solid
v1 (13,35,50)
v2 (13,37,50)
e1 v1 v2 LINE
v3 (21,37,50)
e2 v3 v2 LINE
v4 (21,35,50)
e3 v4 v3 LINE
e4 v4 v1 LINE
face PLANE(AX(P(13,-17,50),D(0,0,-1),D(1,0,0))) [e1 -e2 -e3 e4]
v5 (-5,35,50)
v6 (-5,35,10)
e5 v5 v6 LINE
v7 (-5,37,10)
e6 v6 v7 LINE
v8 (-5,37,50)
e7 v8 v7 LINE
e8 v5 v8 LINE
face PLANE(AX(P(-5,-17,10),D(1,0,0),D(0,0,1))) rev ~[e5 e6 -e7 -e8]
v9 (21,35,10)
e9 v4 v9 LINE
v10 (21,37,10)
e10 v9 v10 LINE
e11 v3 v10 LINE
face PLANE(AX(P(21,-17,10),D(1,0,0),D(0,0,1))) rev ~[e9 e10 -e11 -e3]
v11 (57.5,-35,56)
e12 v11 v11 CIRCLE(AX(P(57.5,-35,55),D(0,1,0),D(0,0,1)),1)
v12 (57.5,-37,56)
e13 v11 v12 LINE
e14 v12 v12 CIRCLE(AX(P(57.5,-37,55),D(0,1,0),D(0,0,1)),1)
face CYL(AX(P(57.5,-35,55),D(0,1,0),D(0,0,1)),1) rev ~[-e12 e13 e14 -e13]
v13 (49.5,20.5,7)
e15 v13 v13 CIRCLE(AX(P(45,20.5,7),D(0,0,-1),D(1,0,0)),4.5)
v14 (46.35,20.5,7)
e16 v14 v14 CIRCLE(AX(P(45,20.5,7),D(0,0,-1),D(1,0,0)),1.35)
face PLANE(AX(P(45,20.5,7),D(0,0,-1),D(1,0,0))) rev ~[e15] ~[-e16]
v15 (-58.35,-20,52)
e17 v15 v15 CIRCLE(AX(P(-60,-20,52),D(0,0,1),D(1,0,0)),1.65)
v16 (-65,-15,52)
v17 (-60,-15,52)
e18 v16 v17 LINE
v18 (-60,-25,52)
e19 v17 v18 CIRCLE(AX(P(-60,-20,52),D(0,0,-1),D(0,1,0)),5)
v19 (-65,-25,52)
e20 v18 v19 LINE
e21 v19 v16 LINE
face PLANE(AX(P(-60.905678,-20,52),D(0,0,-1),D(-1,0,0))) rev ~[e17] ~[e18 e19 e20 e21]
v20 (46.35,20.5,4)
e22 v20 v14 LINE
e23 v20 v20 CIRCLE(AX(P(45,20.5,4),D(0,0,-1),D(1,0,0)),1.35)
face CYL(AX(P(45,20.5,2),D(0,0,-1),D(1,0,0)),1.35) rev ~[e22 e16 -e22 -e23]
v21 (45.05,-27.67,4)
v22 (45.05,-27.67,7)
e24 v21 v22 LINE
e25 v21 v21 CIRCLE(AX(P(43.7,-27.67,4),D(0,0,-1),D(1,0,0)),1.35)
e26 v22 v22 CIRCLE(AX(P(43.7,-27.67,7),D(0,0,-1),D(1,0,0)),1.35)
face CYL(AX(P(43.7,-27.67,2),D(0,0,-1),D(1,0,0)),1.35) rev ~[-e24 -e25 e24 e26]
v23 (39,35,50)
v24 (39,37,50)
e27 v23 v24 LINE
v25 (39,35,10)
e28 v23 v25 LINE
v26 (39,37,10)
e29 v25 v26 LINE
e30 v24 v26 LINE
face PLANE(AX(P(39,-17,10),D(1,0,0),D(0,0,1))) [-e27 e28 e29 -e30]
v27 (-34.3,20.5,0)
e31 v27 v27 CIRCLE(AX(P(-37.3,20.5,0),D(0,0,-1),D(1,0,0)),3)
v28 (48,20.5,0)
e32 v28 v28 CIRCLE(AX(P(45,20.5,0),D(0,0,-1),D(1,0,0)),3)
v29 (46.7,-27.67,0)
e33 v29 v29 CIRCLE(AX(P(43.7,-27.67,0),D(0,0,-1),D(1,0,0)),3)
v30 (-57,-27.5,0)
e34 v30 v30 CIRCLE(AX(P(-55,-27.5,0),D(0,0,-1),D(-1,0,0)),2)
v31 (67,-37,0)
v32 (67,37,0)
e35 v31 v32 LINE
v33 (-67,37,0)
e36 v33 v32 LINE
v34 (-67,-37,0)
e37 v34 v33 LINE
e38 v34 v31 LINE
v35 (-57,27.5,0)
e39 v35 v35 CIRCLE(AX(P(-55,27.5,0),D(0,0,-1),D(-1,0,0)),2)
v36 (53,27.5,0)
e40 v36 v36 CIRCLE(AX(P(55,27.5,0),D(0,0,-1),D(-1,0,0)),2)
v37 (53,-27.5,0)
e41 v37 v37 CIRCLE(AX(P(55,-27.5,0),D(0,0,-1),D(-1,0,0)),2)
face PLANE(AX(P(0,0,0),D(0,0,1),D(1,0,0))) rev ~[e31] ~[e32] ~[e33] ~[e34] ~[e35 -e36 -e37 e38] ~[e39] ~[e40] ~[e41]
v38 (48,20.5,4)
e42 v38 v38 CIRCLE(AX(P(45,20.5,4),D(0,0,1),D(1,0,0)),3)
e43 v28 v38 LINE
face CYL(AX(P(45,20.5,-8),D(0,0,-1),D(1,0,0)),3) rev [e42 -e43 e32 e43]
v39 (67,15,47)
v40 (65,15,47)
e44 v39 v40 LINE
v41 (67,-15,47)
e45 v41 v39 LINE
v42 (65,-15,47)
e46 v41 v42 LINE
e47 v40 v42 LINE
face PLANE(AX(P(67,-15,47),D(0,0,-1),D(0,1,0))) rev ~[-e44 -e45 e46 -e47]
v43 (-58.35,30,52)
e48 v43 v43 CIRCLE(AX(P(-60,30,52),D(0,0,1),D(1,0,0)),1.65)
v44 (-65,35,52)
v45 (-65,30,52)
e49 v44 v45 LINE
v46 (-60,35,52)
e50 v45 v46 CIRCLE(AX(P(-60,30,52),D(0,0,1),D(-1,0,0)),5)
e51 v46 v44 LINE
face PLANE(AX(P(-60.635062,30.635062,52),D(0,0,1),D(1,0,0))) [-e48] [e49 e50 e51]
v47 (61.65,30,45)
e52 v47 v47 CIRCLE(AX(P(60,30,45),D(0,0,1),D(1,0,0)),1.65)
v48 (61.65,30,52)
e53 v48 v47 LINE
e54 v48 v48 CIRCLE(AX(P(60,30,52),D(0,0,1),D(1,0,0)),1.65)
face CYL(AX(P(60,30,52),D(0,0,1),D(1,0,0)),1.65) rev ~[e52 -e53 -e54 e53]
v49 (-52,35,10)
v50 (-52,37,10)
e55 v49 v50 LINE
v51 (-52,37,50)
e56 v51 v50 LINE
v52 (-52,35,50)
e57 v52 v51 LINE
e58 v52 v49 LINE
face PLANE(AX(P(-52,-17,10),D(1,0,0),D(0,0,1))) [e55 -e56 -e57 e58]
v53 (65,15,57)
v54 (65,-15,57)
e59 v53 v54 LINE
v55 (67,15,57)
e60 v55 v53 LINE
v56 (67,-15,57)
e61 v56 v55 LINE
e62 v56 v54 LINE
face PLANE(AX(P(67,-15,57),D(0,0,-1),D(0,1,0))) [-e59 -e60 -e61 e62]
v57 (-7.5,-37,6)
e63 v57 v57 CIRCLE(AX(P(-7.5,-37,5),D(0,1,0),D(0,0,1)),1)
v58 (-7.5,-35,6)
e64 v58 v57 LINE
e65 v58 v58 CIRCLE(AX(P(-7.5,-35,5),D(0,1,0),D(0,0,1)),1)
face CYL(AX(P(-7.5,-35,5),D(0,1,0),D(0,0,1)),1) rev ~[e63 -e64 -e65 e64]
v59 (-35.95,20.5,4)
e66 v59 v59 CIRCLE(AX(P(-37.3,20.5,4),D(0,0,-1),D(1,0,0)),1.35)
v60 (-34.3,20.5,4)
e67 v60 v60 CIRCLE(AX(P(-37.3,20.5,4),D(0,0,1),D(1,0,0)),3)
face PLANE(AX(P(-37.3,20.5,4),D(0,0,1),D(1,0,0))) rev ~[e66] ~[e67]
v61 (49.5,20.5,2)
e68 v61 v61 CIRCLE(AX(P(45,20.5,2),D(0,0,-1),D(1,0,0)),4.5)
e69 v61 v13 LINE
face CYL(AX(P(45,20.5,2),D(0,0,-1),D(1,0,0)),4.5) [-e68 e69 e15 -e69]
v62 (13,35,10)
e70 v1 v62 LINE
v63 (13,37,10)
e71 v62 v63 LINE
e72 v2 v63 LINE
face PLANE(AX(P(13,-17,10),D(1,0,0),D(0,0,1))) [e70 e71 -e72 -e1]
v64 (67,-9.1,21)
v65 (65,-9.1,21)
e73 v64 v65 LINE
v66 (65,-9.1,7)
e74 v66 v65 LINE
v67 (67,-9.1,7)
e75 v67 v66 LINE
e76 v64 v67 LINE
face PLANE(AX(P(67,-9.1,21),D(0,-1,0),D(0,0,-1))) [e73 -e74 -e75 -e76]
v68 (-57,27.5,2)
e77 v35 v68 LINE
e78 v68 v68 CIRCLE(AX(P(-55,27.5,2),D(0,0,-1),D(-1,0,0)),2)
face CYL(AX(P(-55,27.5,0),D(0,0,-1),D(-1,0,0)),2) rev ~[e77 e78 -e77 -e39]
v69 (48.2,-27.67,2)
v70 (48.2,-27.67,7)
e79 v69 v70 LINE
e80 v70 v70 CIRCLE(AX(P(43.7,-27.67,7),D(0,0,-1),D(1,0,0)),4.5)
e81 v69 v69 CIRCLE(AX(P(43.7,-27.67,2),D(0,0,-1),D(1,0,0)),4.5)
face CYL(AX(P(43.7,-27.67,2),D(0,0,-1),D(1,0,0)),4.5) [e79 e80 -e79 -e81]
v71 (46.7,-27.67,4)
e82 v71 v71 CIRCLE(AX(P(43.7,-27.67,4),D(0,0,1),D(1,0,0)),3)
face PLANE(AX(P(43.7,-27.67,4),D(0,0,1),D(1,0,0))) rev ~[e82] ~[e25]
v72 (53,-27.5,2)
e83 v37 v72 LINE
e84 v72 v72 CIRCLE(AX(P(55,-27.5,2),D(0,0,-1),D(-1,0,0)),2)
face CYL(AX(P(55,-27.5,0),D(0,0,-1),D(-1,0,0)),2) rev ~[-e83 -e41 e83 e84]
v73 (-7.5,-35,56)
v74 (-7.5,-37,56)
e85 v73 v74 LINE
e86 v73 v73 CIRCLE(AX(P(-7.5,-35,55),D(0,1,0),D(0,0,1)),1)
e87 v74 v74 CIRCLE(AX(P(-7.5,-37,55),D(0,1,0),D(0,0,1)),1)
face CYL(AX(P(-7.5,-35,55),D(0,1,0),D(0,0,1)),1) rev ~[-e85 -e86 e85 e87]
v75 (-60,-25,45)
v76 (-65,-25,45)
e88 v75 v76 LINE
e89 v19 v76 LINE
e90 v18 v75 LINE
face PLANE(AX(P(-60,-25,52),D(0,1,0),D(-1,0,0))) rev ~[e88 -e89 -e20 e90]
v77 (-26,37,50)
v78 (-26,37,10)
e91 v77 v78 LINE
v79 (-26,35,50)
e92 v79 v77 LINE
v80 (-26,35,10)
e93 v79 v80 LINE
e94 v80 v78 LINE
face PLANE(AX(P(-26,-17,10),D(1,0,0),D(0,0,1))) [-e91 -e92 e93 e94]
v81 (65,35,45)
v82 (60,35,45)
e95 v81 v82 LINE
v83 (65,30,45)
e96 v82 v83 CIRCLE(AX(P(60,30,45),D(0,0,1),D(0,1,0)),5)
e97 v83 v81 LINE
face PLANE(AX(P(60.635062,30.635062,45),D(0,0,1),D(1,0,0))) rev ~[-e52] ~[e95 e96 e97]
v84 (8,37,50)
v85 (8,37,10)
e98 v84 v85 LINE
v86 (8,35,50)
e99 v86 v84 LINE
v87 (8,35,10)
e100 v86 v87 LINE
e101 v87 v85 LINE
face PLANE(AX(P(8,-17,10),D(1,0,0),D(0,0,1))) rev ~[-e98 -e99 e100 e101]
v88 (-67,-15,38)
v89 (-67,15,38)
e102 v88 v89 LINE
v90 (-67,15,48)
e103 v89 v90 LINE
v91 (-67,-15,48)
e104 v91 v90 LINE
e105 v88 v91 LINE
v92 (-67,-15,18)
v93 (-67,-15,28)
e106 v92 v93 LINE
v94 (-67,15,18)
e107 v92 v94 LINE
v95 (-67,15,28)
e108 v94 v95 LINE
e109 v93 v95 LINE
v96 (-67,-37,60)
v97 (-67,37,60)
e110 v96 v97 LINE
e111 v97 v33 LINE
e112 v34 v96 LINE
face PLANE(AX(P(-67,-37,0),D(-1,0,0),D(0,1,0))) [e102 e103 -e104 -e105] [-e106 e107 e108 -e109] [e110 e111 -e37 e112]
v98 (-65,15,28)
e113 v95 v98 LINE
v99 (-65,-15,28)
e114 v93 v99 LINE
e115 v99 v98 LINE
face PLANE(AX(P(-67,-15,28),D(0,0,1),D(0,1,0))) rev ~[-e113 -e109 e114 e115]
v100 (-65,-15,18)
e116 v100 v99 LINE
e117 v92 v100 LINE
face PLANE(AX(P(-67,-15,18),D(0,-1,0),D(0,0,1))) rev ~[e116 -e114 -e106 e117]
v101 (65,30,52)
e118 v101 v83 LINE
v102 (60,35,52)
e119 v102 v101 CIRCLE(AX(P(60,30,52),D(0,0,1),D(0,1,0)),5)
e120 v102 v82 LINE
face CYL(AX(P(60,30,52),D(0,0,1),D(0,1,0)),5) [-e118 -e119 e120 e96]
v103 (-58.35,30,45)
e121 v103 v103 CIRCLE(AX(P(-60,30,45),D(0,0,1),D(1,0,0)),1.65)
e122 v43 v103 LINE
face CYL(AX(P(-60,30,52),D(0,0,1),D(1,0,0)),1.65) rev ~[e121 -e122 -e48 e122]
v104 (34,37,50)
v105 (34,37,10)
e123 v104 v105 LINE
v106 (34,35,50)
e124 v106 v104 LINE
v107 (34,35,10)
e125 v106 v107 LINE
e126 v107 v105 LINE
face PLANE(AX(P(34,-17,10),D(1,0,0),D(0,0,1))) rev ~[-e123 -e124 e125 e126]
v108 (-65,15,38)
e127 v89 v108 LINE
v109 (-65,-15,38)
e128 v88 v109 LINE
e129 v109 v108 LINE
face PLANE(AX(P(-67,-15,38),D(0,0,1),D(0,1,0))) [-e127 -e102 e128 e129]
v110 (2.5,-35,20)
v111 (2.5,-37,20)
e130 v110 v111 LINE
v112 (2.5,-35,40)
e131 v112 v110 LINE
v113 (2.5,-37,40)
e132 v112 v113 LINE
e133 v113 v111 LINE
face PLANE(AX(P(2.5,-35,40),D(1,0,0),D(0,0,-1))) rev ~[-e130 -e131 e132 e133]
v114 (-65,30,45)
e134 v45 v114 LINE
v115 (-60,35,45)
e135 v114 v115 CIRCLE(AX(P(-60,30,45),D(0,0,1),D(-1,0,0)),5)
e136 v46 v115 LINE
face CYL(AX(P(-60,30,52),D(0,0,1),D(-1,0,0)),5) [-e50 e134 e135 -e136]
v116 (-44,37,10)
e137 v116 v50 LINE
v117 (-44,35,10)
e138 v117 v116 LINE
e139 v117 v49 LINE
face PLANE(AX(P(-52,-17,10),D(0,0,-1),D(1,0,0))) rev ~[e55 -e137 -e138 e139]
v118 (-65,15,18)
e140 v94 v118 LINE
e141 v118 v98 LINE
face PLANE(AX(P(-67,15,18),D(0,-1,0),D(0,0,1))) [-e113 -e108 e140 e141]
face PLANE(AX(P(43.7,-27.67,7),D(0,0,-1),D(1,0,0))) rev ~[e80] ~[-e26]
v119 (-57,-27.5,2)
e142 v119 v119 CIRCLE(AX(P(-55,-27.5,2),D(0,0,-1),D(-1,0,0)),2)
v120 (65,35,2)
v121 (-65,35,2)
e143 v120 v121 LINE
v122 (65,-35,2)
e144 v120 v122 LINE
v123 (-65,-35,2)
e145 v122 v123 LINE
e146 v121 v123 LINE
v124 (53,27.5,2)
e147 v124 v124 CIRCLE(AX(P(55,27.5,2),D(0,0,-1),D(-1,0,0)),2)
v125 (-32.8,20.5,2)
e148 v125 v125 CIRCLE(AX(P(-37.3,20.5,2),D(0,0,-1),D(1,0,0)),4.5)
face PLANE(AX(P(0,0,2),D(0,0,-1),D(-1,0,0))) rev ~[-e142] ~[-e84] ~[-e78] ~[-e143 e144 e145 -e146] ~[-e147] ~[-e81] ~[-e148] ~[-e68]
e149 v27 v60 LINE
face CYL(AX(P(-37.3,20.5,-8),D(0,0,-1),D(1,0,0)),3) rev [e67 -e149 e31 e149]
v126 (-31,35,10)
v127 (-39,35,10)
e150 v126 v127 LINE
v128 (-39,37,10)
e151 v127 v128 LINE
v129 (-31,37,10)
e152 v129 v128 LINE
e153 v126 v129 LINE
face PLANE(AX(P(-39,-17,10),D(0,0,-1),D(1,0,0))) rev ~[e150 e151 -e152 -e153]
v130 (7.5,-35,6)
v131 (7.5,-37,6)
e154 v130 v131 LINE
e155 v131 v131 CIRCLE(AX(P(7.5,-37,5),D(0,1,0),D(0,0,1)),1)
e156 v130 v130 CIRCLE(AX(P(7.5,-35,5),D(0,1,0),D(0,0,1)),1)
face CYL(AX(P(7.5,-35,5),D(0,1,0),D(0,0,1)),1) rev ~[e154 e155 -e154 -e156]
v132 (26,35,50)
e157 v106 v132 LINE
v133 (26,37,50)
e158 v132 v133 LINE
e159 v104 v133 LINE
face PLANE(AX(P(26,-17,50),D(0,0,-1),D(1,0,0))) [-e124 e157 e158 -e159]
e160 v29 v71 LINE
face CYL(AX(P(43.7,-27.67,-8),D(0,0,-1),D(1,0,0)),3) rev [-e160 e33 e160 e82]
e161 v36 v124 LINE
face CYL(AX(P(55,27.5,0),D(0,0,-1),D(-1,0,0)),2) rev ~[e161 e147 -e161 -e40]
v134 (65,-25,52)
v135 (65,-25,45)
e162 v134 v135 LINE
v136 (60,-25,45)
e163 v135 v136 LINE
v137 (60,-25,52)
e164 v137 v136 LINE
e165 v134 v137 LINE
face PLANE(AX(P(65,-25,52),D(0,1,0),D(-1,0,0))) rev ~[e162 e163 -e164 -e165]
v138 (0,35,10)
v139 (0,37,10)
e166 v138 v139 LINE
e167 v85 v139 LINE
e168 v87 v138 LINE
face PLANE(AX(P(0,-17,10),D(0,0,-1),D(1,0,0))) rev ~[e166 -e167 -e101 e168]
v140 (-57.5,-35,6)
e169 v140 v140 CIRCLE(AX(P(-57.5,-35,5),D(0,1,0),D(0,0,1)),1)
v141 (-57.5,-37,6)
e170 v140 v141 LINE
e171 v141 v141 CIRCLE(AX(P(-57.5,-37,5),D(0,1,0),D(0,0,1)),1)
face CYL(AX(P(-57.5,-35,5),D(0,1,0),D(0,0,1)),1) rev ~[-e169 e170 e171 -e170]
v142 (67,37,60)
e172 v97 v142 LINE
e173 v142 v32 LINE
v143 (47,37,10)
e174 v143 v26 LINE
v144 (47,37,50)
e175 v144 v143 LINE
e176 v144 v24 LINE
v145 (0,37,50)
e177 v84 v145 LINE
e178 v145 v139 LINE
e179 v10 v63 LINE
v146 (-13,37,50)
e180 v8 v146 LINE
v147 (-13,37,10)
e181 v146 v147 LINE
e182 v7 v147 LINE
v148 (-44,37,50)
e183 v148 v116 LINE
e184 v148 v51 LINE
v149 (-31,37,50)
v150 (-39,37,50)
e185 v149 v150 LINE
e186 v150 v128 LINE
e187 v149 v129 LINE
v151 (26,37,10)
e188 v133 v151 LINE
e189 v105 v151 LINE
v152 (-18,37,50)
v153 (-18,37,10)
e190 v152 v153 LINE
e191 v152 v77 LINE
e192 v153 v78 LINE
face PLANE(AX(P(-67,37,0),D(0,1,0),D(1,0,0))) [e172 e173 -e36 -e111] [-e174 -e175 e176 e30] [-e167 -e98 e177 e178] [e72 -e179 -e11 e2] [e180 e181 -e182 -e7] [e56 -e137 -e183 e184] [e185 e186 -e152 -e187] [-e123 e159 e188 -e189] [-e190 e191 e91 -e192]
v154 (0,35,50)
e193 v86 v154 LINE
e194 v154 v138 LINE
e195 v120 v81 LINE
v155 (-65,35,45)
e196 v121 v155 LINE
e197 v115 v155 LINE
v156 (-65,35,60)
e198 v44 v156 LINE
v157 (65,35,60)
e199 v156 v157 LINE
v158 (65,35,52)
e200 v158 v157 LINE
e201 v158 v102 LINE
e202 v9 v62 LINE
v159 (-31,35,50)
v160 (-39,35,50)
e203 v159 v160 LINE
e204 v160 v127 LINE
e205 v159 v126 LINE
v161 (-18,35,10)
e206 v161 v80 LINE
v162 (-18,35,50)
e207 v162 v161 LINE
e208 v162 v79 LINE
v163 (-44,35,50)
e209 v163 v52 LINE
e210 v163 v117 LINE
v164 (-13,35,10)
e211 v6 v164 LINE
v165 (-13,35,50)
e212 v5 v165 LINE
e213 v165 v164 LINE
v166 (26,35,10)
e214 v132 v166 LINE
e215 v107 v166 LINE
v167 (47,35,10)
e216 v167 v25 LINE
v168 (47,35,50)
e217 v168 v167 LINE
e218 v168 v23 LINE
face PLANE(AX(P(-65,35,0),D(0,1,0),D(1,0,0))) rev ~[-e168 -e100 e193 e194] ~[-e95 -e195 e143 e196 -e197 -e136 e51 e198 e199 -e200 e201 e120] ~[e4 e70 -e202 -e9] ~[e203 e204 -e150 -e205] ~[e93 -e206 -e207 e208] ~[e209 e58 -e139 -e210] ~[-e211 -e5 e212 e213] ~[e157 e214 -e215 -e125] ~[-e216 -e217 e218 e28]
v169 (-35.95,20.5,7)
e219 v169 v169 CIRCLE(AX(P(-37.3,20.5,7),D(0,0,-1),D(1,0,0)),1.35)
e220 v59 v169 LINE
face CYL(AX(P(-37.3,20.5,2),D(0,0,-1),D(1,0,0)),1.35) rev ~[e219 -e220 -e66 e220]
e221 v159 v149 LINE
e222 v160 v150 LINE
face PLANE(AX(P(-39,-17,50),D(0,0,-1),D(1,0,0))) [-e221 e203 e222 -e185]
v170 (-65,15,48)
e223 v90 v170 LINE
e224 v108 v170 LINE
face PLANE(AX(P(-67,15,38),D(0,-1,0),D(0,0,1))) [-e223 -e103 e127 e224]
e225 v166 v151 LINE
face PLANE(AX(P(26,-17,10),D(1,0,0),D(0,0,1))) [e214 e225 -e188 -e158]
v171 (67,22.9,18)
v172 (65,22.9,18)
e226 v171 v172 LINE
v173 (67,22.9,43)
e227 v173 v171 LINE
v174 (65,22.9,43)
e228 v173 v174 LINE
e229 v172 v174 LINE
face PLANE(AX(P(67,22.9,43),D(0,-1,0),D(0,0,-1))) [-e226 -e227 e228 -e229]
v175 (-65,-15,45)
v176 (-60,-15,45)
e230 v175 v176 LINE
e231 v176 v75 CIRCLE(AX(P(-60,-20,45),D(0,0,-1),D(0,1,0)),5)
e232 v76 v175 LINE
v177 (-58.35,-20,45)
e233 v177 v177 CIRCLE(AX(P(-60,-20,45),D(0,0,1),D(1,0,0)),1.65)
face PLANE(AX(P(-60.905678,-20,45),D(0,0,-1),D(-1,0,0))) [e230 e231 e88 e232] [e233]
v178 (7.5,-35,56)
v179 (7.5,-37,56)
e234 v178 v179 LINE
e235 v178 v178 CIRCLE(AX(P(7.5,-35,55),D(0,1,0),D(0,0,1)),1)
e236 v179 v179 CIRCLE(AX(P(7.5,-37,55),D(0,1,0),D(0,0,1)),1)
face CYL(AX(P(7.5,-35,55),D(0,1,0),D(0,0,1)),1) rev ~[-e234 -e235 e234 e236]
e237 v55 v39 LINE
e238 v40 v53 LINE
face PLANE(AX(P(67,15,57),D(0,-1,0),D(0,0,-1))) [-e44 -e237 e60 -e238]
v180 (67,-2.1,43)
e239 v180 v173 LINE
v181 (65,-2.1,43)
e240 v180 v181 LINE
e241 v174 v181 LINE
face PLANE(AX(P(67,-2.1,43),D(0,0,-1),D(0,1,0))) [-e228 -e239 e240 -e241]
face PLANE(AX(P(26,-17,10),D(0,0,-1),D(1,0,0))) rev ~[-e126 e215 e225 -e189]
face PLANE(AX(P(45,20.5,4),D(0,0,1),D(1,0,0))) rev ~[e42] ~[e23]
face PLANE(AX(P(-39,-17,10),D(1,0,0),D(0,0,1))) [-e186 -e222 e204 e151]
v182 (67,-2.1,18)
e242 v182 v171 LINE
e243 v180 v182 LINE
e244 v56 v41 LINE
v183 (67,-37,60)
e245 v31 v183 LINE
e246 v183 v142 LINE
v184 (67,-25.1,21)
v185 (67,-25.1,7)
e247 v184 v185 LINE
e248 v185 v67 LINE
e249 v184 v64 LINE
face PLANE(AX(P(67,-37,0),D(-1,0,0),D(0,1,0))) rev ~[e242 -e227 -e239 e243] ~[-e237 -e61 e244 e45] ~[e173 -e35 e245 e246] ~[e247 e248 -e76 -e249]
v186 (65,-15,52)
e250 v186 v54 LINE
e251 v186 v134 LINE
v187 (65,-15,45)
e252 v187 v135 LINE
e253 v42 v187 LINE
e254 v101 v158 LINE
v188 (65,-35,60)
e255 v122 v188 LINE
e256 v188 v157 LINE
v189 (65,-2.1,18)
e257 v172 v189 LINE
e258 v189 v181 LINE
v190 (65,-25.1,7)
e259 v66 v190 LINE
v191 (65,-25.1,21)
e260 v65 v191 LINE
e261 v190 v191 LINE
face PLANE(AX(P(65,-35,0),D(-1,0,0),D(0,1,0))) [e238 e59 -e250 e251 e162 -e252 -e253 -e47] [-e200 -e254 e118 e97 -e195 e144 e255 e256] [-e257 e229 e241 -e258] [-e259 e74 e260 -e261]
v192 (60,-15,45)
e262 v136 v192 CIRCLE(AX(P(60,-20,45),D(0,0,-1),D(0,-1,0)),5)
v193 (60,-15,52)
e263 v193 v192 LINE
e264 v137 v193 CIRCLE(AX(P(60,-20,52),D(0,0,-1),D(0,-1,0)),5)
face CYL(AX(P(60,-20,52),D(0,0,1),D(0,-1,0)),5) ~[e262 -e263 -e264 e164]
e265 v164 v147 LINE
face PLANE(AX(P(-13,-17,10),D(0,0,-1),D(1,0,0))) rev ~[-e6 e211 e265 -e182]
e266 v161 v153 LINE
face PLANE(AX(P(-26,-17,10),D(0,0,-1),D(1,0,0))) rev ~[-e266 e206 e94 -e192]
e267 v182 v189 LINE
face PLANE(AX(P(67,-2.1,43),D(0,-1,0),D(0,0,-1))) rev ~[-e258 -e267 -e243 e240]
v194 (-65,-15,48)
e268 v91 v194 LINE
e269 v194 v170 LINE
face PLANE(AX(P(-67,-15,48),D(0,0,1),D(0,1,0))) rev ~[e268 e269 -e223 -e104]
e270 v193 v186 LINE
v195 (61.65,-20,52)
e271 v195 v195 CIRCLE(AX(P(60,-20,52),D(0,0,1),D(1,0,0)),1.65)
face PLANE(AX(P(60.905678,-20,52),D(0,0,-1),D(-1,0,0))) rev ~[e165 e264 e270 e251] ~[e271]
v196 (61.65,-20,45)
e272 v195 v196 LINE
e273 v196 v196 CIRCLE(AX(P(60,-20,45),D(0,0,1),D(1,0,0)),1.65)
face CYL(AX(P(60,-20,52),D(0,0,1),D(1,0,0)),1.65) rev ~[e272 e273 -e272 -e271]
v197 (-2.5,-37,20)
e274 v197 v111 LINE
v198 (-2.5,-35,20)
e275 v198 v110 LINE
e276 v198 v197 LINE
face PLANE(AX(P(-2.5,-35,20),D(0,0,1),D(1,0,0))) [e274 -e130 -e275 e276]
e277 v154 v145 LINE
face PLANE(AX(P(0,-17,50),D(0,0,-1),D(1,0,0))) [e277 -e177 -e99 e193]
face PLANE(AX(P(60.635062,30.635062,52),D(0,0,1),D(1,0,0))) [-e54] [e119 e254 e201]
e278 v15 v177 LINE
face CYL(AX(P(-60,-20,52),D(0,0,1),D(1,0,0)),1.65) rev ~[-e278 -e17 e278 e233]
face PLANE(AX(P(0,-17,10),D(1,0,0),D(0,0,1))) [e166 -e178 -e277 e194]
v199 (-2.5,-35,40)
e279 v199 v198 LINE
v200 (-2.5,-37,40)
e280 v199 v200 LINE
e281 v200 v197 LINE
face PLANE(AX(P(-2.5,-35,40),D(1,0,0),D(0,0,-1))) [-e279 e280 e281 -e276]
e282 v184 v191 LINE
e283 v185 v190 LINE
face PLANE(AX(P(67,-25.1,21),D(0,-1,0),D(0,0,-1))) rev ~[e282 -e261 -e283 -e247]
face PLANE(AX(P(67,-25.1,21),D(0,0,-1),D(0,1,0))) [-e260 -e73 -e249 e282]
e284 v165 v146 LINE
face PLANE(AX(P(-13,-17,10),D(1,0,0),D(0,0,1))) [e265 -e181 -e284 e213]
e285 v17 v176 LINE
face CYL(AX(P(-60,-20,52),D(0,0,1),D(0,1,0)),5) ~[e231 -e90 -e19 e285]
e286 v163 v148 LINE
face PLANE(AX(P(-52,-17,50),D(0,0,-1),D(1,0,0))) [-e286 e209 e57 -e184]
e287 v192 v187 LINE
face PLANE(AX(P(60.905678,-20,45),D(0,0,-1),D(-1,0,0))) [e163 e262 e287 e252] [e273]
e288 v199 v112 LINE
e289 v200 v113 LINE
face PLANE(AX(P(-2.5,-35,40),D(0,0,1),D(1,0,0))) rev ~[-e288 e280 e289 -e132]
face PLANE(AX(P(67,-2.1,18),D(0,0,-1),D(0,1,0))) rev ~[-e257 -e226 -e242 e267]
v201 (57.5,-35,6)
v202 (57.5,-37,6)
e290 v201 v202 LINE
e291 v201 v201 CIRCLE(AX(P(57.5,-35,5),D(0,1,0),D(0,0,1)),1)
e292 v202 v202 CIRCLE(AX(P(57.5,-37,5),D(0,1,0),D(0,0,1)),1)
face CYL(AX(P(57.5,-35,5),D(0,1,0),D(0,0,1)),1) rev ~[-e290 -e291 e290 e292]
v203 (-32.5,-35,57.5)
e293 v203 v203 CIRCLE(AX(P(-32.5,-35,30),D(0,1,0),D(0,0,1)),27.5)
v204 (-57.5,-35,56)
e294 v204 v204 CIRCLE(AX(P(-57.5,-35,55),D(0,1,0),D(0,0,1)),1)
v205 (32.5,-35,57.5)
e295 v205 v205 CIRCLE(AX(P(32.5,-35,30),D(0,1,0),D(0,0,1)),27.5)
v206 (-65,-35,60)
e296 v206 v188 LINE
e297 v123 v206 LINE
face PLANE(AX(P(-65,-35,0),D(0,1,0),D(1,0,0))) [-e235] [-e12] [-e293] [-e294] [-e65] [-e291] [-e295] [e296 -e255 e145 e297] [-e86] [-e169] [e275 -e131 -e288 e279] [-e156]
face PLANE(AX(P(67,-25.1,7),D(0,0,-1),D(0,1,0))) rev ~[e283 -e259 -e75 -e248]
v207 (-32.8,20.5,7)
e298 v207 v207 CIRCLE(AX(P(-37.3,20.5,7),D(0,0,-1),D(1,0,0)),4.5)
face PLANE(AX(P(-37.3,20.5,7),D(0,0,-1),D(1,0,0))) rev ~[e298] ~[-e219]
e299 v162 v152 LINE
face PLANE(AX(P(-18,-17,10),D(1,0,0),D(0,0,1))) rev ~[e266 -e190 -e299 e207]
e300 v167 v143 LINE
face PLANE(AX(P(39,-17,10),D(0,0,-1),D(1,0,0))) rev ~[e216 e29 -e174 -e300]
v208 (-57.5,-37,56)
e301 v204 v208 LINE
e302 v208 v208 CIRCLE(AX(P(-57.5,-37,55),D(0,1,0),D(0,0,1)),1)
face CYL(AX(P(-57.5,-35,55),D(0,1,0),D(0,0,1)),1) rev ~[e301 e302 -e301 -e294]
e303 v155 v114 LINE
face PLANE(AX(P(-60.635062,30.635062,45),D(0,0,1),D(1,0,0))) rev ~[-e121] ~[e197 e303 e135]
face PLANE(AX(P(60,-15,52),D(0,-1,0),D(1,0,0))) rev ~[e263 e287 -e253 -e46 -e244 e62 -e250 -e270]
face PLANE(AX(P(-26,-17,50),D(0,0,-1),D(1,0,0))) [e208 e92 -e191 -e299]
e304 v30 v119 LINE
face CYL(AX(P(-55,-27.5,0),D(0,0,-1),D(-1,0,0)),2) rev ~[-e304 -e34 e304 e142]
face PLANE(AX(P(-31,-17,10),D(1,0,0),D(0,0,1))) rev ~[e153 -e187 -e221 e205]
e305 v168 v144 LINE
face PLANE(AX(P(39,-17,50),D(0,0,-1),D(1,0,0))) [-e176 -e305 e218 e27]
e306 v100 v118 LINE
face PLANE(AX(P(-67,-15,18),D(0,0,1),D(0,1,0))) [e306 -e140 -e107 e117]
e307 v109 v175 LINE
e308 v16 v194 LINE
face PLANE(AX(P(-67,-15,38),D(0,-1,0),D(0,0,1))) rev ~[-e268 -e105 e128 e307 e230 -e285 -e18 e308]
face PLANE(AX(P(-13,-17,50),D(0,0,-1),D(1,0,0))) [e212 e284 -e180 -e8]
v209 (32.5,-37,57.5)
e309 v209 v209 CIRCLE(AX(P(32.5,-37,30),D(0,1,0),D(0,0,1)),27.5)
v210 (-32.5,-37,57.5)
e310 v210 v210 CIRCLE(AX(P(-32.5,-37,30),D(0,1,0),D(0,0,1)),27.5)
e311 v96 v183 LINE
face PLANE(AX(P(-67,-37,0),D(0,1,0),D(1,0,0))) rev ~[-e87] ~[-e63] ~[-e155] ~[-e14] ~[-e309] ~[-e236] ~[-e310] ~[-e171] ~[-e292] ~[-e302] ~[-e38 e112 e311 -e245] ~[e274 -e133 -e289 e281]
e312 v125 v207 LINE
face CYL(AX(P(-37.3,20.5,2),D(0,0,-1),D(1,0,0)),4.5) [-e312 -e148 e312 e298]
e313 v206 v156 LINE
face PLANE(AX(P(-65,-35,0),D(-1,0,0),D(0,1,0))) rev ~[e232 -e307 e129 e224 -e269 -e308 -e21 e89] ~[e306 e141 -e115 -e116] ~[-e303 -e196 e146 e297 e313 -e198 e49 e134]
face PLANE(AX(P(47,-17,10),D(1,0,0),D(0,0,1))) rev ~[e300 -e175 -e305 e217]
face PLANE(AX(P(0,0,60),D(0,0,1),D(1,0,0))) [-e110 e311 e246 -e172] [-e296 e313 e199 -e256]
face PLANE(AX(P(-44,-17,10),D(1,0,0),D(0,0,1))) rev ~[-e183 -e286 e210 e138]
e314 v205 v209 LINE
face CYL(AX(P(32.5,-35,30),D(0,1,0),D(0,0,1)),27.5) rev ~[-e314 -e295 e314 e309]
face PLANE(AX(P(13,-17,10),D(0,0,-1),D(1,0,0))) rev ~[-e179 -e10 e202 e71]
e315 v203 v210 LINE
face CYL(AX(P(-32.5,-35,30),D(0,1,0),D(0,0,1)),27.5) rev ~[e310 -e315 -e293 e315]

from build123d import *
from build123d.topology import SkipClean

# Parameters (mm, degrees)
ESBO_O1_W                  = 134
ESBO_O1_H                  = 74
ESBO_O1_W_2                = 130
ESBO_O1_H_2                = 70
RESSALTO_EXTRUS_O1_DEPTH   = 60
ESBO_O2_W                  = 134
ESBO_O2_H                  = 74
ESBO_O2_R                  = 2
RESSALTO_EXTRUS_O2_DEPTH   = 2
ESBO_O3_W                  = 25
ESBO_O3_H                  = 25
ESBO_O3_W_2                = 14
ESBO_O3_H_2                = 16
ESBO_O3_W_3                = 10
ESBO_O3_H_3                = 30
USB_FONTE_DEPTH            = 10
SAIDA_START                = -20
ESBO_O6_W                  = 8
ESBO_O6_H                  = 40
SAIDA_DE_AR_DEPTH          = 97.468879964
ESBO_O7_W                  = 10
ESBO_O7_H                  = 30
DISPLAY_DEPTH              = 12
ESBO_O8_R                  = 4.5
ESBO_O8_R_2                = 1.35
RESSALTO_EXTRUS_O3_DEPTH   = 5
ESBO_O8_3_R                = 1.35
CORTE_EXTRUS_O4_DEPTH      = 97.031244915
CORTE_EXTRUS_O5_DEPTH      = 2
CORTE_EXTRUS_O5_DEPTH_BACK = 10
ESBO_O9_R                  = 3
COOLER_START               = -72
ESBO_O10_R                 = 27.5
ESBO_O10_R_2               = 1
ESBO_O10_W                 = 5
ESBO_O10_H                 = 20
COOLER_DEPTH               = 45.468879964
RESSALTO_EXTRUS_O4_START   = -8
ESBO_O11_R                 = 1.65
RESSALTO_EXTRUS_O4_DEPTH   = 7


with BuildPart() as part:
    # Esboço1 → Ressalto-extrusão1 (new body)
    with BuildSketch(Plane.XY):
        Rectangle(ESBO_O1_W, ESBO_O1_H)
        Rectangle(ESBO_O1_W_2, ESBO_O1_H_2, mode=Mode.SUBTRACT)
    extrude(amount=RESSALTO_EXTRUS_O1_DEPTH)

    # Esboço2 → Ressalto-extrusão2 (add)
    with BuildSketch(Plane(origin=(0, 0, 0), x_dir=(-1, 0, 0), z_dir=(0, 0, -1))):
        Rectangle(ESBO_O2_W, ESBO_O2_H)
        with Locations((-55, -27.5)):
            Circle(ESBO_O2_R, mode=Mode.SUBTRACT)
        with Locations((55, -27.5)):
            Circle(ESBO_O2_R, mode=Mode.SUBTRACT)
        with Locations((55, 27.5)):
            Circle(ESBO_O2_R, mode=Mode.SUBTRACT)
        with Locations((-55, 27.5)):
            Circle(ESBO_O2_R, mode=Mode.SUBTRACT)
    extrude(amount=-RESSALTO_EXTRUS_O2_DEPTH)

    # Esboço3 → USB + fonte (cut)
    with BuildSketch(Plane(origin=(67, 0, 0), x_dir=(0, 0, -1), z_dir=(1, 0, 0))):
        with Locations((-30.5, 10.4)):
            Rectangle(ESBO_O3_W, ESBO_O3_H)
        with Locations((-14, -17.1)):
            Rectangle(ESBO_O3_W_2, ESBO_O3_H_2)
        with Locations((-52, 0)):
            Rectangle(ESBO_O3_W_3, ESBO_O3_H_3)
    extrude(amount=-USB_FONTE_DEPTH, mode=Mode.SUBTRACT)

    # Esboço6 → saida de ar (cut, through all)
    with BuildSketch(Plane.XZ.offset(37).offset(SAIDA_START)):
        with Locations((-48, 30)):
            Rectangle(ESBO_O6_W, ESBO_O6_H)
        with Locations((-35, 30)):
            Rectangle(ESBO_O6_W, ESBO_O6_H)
        with Locations((-22, 30)):
            Rectangle(ESBO_O6_W, ESBO_O6_H)
        with Locations((-9, 30)):
            Rectangle(ESBO_O6_W, ESBO_O6_H)
        with Locations((4, 30)):
            Rectangle(ESBO_O6_W, ESBO_O6_H)
        with Locations((17, 30)):
            Rectangle(ESBO_O6_W, ESBO_O6_H)
        with Locations((30, 30)):
            Rectangle(ESBO_O6_W, ESBO_O6_H)
        with Locations((43, 30)):
            Rectangle(ESBO_O6_W, ESBO_O6_H)
    extrude(amount=-SAIDA_DE_AR_DEPTH, mode=Mode.SUBTRACT)

    # Esboço7 → display (cut)
    with BuildSketch(Plane.ZY.offset(67)):
        with Locations((43, 0)):
            Rectangle(ESBO_O7_W, ESBO_O7_H)
        with Locations((23, 0)):
            Rectangle(ESBO_O7_W, ESBO_O7_H)
    extrude(amount=-DISPLAY_DEPTH, mode=Mode.SUBTRACT)

    # Esboço8 → Ressalto-extrusão3 (add)
    # profile 1 of 3: a face of its own
    with BuildSketch(Plane(origin=(0, 0, 2), x_dir=(-1, 0, 0), z_dir=(0, 0, -1))):
        with Locations(Location((37.3, 20.5, 0), (0, 0, 180))):
            Circle(ESBO_O8_R)
        with Locations(Location((37.3, 20.5, 0), (0, 0, 180))):
            Circle(ESBO_O8_R_2, mode=Mode.SUBTRACT)
    # profile 2 of 3: a face of its own
    with BuildSketch(Plane(origin=(0, 0, 2), x_dir=(-1, 0, 0), z_dir=(0, 0, -1))):
        with Locations(Location((-45, 20.5, 0), (0, 0, 180))):
            Circle(ESBO_O8_R)
        with Locations(Location((-45, 20.5, 0), (0, 0, 180))):
            Circle(ESBO_O8_R_2, mode=Mode.SUBTRACT)
    # profile 3 of 3: a face of its own
    with BuildSketch(Plane(origin=(0, 0, 2), x_dir=(-1, 0, 0), z_dir=(0, 0, -1))):
        with Locations(Location((-43.7, -27.67, 0), (0, 0, 180))):
            Circle(ESBO_O8_R)
        with Locations(Location((-43.7, -27.67, 0), (0, 0, 180))):
            Circle(ESBO_O8_R_2, mode=Mode.SUBTRACT)
    extrude(amount=-RESSALTO_EXTRUS_O3_DEPTH)

    # Esboço8<3> → Corte-extrusão4 (cut, through all)
    with SkipClean():  # the faces are left unmerged after this step: merging them gives an invalid solid
        with BuildSketch(Plane(origin=(0, 0, 2), x_dir=(-1, 0, 0), z_dir=(0, 0, -1))):
            with Locations((-43.7, -27.67)):
                Circle(ESBO_O8_3_R)
            with Locations((37.3, 20.5)):
                Circle(ESBO_O8_3_R)
            with Locations((-45, 20.5)):
                Circle(ESBO_O8_3_R)
        extrude(amount=CORTE_EXTRUS_O4_DEPTH, mode=Mode.SUBTRACT)

    # Esboço9 → Corte-extrusão5 (cut, two sides: drawn at the far end of the back side and taken through both)
    with BuildSketch(Plane.XY.offset(2).offset(-CORTE_EXTRUS_O5_DEPTH_BACK)):
        with Locations((45, 20.5)):
            Circle(ESBO_O9_R)
        with Locations((43.7, -27.67)):
            Circle(ESBO_O9_R)
        with Locations((-37.3, 20.5)):
            Circle(ESBO_O9_R)
    extrude(amount=CORTE_EXTRUS_O5_DEPTH + CORTE_EXTRUS_O5_DEPTH_BACK, mode=Mode.SUBTRACT)

    # Esboço10 → cooler (cut, through all)
    with BuildSketch(Plane(origin=(0, 37, 0), x_dir=(1, 0, 0), z_dir=(0, 1, 0)).offset(COOLER_START)):
        with Locations(Location((32.5, -30, 0), (0, 0, 270))):
            Circle(ESBO_O10_R)
        with Locations(Location((-32.5, -30, 0), (0, 0, 270))):
            Circle(ESBO_O10_R)
        with Locations(Location((-57.5, -55, 0), (0, 0, 270))):
            Circle(ESBO_O10_R_2)
        with Locations(Location((-7.5, -55, 0), (0, 0, 270))):
            Circle(ESBO_O10_R_2)
        with Locations(Location((7.5, -55, 0), (0, 0, 270))):
            Circle(ESBO_O10_R_2)
        with Locations(Location((57.5, -55, 0), (0, 0, 270))):
            Circle(ESBO_O10_R_2)
        with Locations(Location((57.5, -5, 0), (0, 0, 270))):
            Circle(ESBO_O10_R_2)
        with Locations(Location((7.5, -5, 0), (0, 0, 270))):
            Circle(ESBO_O10_R_2)
        with Locations(Location((-7.5, -5, 0), (0, 0, 270))):
            Circle(ESBO_O10_R_2)
        with Locations(Location((-57.5, -5, 0), (0, 0, 270))):
            Circle(ESBO_O10_R_2)
        with Locations((0, -30)):
            Rectangle(ESBO_O10_W, ESBO_O10_H)
    extrude(amount=-COOLER_DEPTH, mode=Mode.SUBTRACT)

    # Esboço11 → Ressalto-extrusão4 (add)
    # profile 1 of 4: a face of its own
    with BuildSketch(Plane.XY.offset(60).offset(RESSALTO_EXTRUS_O4_START)):
        with BuildLine():
            Line((65, -25), (60, -25))
            ThreePointArc((60, -25), (55, -20), (60, -15))
            Line((60, -15), (65, -15))
            Line((65, -15), (65, -25))
        make_face()
        with Locations((60, -20)):
            Circle(ESBO_O11_R, mode=Mode.SUBTRACT)
    # profile 2 of 4: a face of its own
    with BuildSketch(Plane.XY.offset(60).offset(RESSALTO_EXTRUS_O4_START)):
        with BuildLine():
            Line((65, 35), (60, 35))
            ThreePointArc((60, 35), (56.464466094, 26.464466094), (65, 30))
            Line((65, 30), (65, 35))
        make_face()
        with Locations((60, 30)):
            Circle(ESBO_O11_R, mode=Mode.SUBTRACT)
    # profile 3 of 4: a face of its own
    with BuildSketch(Plane.XY.offset(60).offset(RESSALTO_EXTRUS_O4_START)):
        with BuildLine():
            Line((-65, -25), (-65, -15))
            Line((-65, -15), (-60, -15))
            ThreePointArc((-60, -15), (-55, -20), (-60, -25))
            Line((-60, -25), (-65, -25))
        make_face()
        with Locations((-60, -20)):
            Circle(ESBO_O11_R, mode=Mode.SUBTRACT)
    # profile 4 of 4: a face of its own
    with BuildSketch(Plane.XY.offset(60).offset(RESSALTO_EXTRUS_O4_START)):
        with BuildLine():
            Line((-60, 35), (-65, 35))
            Line((-65, 35), (-65, 30))
            ThreePointArc((-65, 30), (-56.464466094, 26.464466094), (-60, 35))
        make_face()
        with Locations((-60, 30)):
            Circle(ESBO_O11_R, mode=Mode.SUBTRACT)
    extrude(amount=-RESSALTO_EXTRUS_O4_DEPTH)


solid = part.part
